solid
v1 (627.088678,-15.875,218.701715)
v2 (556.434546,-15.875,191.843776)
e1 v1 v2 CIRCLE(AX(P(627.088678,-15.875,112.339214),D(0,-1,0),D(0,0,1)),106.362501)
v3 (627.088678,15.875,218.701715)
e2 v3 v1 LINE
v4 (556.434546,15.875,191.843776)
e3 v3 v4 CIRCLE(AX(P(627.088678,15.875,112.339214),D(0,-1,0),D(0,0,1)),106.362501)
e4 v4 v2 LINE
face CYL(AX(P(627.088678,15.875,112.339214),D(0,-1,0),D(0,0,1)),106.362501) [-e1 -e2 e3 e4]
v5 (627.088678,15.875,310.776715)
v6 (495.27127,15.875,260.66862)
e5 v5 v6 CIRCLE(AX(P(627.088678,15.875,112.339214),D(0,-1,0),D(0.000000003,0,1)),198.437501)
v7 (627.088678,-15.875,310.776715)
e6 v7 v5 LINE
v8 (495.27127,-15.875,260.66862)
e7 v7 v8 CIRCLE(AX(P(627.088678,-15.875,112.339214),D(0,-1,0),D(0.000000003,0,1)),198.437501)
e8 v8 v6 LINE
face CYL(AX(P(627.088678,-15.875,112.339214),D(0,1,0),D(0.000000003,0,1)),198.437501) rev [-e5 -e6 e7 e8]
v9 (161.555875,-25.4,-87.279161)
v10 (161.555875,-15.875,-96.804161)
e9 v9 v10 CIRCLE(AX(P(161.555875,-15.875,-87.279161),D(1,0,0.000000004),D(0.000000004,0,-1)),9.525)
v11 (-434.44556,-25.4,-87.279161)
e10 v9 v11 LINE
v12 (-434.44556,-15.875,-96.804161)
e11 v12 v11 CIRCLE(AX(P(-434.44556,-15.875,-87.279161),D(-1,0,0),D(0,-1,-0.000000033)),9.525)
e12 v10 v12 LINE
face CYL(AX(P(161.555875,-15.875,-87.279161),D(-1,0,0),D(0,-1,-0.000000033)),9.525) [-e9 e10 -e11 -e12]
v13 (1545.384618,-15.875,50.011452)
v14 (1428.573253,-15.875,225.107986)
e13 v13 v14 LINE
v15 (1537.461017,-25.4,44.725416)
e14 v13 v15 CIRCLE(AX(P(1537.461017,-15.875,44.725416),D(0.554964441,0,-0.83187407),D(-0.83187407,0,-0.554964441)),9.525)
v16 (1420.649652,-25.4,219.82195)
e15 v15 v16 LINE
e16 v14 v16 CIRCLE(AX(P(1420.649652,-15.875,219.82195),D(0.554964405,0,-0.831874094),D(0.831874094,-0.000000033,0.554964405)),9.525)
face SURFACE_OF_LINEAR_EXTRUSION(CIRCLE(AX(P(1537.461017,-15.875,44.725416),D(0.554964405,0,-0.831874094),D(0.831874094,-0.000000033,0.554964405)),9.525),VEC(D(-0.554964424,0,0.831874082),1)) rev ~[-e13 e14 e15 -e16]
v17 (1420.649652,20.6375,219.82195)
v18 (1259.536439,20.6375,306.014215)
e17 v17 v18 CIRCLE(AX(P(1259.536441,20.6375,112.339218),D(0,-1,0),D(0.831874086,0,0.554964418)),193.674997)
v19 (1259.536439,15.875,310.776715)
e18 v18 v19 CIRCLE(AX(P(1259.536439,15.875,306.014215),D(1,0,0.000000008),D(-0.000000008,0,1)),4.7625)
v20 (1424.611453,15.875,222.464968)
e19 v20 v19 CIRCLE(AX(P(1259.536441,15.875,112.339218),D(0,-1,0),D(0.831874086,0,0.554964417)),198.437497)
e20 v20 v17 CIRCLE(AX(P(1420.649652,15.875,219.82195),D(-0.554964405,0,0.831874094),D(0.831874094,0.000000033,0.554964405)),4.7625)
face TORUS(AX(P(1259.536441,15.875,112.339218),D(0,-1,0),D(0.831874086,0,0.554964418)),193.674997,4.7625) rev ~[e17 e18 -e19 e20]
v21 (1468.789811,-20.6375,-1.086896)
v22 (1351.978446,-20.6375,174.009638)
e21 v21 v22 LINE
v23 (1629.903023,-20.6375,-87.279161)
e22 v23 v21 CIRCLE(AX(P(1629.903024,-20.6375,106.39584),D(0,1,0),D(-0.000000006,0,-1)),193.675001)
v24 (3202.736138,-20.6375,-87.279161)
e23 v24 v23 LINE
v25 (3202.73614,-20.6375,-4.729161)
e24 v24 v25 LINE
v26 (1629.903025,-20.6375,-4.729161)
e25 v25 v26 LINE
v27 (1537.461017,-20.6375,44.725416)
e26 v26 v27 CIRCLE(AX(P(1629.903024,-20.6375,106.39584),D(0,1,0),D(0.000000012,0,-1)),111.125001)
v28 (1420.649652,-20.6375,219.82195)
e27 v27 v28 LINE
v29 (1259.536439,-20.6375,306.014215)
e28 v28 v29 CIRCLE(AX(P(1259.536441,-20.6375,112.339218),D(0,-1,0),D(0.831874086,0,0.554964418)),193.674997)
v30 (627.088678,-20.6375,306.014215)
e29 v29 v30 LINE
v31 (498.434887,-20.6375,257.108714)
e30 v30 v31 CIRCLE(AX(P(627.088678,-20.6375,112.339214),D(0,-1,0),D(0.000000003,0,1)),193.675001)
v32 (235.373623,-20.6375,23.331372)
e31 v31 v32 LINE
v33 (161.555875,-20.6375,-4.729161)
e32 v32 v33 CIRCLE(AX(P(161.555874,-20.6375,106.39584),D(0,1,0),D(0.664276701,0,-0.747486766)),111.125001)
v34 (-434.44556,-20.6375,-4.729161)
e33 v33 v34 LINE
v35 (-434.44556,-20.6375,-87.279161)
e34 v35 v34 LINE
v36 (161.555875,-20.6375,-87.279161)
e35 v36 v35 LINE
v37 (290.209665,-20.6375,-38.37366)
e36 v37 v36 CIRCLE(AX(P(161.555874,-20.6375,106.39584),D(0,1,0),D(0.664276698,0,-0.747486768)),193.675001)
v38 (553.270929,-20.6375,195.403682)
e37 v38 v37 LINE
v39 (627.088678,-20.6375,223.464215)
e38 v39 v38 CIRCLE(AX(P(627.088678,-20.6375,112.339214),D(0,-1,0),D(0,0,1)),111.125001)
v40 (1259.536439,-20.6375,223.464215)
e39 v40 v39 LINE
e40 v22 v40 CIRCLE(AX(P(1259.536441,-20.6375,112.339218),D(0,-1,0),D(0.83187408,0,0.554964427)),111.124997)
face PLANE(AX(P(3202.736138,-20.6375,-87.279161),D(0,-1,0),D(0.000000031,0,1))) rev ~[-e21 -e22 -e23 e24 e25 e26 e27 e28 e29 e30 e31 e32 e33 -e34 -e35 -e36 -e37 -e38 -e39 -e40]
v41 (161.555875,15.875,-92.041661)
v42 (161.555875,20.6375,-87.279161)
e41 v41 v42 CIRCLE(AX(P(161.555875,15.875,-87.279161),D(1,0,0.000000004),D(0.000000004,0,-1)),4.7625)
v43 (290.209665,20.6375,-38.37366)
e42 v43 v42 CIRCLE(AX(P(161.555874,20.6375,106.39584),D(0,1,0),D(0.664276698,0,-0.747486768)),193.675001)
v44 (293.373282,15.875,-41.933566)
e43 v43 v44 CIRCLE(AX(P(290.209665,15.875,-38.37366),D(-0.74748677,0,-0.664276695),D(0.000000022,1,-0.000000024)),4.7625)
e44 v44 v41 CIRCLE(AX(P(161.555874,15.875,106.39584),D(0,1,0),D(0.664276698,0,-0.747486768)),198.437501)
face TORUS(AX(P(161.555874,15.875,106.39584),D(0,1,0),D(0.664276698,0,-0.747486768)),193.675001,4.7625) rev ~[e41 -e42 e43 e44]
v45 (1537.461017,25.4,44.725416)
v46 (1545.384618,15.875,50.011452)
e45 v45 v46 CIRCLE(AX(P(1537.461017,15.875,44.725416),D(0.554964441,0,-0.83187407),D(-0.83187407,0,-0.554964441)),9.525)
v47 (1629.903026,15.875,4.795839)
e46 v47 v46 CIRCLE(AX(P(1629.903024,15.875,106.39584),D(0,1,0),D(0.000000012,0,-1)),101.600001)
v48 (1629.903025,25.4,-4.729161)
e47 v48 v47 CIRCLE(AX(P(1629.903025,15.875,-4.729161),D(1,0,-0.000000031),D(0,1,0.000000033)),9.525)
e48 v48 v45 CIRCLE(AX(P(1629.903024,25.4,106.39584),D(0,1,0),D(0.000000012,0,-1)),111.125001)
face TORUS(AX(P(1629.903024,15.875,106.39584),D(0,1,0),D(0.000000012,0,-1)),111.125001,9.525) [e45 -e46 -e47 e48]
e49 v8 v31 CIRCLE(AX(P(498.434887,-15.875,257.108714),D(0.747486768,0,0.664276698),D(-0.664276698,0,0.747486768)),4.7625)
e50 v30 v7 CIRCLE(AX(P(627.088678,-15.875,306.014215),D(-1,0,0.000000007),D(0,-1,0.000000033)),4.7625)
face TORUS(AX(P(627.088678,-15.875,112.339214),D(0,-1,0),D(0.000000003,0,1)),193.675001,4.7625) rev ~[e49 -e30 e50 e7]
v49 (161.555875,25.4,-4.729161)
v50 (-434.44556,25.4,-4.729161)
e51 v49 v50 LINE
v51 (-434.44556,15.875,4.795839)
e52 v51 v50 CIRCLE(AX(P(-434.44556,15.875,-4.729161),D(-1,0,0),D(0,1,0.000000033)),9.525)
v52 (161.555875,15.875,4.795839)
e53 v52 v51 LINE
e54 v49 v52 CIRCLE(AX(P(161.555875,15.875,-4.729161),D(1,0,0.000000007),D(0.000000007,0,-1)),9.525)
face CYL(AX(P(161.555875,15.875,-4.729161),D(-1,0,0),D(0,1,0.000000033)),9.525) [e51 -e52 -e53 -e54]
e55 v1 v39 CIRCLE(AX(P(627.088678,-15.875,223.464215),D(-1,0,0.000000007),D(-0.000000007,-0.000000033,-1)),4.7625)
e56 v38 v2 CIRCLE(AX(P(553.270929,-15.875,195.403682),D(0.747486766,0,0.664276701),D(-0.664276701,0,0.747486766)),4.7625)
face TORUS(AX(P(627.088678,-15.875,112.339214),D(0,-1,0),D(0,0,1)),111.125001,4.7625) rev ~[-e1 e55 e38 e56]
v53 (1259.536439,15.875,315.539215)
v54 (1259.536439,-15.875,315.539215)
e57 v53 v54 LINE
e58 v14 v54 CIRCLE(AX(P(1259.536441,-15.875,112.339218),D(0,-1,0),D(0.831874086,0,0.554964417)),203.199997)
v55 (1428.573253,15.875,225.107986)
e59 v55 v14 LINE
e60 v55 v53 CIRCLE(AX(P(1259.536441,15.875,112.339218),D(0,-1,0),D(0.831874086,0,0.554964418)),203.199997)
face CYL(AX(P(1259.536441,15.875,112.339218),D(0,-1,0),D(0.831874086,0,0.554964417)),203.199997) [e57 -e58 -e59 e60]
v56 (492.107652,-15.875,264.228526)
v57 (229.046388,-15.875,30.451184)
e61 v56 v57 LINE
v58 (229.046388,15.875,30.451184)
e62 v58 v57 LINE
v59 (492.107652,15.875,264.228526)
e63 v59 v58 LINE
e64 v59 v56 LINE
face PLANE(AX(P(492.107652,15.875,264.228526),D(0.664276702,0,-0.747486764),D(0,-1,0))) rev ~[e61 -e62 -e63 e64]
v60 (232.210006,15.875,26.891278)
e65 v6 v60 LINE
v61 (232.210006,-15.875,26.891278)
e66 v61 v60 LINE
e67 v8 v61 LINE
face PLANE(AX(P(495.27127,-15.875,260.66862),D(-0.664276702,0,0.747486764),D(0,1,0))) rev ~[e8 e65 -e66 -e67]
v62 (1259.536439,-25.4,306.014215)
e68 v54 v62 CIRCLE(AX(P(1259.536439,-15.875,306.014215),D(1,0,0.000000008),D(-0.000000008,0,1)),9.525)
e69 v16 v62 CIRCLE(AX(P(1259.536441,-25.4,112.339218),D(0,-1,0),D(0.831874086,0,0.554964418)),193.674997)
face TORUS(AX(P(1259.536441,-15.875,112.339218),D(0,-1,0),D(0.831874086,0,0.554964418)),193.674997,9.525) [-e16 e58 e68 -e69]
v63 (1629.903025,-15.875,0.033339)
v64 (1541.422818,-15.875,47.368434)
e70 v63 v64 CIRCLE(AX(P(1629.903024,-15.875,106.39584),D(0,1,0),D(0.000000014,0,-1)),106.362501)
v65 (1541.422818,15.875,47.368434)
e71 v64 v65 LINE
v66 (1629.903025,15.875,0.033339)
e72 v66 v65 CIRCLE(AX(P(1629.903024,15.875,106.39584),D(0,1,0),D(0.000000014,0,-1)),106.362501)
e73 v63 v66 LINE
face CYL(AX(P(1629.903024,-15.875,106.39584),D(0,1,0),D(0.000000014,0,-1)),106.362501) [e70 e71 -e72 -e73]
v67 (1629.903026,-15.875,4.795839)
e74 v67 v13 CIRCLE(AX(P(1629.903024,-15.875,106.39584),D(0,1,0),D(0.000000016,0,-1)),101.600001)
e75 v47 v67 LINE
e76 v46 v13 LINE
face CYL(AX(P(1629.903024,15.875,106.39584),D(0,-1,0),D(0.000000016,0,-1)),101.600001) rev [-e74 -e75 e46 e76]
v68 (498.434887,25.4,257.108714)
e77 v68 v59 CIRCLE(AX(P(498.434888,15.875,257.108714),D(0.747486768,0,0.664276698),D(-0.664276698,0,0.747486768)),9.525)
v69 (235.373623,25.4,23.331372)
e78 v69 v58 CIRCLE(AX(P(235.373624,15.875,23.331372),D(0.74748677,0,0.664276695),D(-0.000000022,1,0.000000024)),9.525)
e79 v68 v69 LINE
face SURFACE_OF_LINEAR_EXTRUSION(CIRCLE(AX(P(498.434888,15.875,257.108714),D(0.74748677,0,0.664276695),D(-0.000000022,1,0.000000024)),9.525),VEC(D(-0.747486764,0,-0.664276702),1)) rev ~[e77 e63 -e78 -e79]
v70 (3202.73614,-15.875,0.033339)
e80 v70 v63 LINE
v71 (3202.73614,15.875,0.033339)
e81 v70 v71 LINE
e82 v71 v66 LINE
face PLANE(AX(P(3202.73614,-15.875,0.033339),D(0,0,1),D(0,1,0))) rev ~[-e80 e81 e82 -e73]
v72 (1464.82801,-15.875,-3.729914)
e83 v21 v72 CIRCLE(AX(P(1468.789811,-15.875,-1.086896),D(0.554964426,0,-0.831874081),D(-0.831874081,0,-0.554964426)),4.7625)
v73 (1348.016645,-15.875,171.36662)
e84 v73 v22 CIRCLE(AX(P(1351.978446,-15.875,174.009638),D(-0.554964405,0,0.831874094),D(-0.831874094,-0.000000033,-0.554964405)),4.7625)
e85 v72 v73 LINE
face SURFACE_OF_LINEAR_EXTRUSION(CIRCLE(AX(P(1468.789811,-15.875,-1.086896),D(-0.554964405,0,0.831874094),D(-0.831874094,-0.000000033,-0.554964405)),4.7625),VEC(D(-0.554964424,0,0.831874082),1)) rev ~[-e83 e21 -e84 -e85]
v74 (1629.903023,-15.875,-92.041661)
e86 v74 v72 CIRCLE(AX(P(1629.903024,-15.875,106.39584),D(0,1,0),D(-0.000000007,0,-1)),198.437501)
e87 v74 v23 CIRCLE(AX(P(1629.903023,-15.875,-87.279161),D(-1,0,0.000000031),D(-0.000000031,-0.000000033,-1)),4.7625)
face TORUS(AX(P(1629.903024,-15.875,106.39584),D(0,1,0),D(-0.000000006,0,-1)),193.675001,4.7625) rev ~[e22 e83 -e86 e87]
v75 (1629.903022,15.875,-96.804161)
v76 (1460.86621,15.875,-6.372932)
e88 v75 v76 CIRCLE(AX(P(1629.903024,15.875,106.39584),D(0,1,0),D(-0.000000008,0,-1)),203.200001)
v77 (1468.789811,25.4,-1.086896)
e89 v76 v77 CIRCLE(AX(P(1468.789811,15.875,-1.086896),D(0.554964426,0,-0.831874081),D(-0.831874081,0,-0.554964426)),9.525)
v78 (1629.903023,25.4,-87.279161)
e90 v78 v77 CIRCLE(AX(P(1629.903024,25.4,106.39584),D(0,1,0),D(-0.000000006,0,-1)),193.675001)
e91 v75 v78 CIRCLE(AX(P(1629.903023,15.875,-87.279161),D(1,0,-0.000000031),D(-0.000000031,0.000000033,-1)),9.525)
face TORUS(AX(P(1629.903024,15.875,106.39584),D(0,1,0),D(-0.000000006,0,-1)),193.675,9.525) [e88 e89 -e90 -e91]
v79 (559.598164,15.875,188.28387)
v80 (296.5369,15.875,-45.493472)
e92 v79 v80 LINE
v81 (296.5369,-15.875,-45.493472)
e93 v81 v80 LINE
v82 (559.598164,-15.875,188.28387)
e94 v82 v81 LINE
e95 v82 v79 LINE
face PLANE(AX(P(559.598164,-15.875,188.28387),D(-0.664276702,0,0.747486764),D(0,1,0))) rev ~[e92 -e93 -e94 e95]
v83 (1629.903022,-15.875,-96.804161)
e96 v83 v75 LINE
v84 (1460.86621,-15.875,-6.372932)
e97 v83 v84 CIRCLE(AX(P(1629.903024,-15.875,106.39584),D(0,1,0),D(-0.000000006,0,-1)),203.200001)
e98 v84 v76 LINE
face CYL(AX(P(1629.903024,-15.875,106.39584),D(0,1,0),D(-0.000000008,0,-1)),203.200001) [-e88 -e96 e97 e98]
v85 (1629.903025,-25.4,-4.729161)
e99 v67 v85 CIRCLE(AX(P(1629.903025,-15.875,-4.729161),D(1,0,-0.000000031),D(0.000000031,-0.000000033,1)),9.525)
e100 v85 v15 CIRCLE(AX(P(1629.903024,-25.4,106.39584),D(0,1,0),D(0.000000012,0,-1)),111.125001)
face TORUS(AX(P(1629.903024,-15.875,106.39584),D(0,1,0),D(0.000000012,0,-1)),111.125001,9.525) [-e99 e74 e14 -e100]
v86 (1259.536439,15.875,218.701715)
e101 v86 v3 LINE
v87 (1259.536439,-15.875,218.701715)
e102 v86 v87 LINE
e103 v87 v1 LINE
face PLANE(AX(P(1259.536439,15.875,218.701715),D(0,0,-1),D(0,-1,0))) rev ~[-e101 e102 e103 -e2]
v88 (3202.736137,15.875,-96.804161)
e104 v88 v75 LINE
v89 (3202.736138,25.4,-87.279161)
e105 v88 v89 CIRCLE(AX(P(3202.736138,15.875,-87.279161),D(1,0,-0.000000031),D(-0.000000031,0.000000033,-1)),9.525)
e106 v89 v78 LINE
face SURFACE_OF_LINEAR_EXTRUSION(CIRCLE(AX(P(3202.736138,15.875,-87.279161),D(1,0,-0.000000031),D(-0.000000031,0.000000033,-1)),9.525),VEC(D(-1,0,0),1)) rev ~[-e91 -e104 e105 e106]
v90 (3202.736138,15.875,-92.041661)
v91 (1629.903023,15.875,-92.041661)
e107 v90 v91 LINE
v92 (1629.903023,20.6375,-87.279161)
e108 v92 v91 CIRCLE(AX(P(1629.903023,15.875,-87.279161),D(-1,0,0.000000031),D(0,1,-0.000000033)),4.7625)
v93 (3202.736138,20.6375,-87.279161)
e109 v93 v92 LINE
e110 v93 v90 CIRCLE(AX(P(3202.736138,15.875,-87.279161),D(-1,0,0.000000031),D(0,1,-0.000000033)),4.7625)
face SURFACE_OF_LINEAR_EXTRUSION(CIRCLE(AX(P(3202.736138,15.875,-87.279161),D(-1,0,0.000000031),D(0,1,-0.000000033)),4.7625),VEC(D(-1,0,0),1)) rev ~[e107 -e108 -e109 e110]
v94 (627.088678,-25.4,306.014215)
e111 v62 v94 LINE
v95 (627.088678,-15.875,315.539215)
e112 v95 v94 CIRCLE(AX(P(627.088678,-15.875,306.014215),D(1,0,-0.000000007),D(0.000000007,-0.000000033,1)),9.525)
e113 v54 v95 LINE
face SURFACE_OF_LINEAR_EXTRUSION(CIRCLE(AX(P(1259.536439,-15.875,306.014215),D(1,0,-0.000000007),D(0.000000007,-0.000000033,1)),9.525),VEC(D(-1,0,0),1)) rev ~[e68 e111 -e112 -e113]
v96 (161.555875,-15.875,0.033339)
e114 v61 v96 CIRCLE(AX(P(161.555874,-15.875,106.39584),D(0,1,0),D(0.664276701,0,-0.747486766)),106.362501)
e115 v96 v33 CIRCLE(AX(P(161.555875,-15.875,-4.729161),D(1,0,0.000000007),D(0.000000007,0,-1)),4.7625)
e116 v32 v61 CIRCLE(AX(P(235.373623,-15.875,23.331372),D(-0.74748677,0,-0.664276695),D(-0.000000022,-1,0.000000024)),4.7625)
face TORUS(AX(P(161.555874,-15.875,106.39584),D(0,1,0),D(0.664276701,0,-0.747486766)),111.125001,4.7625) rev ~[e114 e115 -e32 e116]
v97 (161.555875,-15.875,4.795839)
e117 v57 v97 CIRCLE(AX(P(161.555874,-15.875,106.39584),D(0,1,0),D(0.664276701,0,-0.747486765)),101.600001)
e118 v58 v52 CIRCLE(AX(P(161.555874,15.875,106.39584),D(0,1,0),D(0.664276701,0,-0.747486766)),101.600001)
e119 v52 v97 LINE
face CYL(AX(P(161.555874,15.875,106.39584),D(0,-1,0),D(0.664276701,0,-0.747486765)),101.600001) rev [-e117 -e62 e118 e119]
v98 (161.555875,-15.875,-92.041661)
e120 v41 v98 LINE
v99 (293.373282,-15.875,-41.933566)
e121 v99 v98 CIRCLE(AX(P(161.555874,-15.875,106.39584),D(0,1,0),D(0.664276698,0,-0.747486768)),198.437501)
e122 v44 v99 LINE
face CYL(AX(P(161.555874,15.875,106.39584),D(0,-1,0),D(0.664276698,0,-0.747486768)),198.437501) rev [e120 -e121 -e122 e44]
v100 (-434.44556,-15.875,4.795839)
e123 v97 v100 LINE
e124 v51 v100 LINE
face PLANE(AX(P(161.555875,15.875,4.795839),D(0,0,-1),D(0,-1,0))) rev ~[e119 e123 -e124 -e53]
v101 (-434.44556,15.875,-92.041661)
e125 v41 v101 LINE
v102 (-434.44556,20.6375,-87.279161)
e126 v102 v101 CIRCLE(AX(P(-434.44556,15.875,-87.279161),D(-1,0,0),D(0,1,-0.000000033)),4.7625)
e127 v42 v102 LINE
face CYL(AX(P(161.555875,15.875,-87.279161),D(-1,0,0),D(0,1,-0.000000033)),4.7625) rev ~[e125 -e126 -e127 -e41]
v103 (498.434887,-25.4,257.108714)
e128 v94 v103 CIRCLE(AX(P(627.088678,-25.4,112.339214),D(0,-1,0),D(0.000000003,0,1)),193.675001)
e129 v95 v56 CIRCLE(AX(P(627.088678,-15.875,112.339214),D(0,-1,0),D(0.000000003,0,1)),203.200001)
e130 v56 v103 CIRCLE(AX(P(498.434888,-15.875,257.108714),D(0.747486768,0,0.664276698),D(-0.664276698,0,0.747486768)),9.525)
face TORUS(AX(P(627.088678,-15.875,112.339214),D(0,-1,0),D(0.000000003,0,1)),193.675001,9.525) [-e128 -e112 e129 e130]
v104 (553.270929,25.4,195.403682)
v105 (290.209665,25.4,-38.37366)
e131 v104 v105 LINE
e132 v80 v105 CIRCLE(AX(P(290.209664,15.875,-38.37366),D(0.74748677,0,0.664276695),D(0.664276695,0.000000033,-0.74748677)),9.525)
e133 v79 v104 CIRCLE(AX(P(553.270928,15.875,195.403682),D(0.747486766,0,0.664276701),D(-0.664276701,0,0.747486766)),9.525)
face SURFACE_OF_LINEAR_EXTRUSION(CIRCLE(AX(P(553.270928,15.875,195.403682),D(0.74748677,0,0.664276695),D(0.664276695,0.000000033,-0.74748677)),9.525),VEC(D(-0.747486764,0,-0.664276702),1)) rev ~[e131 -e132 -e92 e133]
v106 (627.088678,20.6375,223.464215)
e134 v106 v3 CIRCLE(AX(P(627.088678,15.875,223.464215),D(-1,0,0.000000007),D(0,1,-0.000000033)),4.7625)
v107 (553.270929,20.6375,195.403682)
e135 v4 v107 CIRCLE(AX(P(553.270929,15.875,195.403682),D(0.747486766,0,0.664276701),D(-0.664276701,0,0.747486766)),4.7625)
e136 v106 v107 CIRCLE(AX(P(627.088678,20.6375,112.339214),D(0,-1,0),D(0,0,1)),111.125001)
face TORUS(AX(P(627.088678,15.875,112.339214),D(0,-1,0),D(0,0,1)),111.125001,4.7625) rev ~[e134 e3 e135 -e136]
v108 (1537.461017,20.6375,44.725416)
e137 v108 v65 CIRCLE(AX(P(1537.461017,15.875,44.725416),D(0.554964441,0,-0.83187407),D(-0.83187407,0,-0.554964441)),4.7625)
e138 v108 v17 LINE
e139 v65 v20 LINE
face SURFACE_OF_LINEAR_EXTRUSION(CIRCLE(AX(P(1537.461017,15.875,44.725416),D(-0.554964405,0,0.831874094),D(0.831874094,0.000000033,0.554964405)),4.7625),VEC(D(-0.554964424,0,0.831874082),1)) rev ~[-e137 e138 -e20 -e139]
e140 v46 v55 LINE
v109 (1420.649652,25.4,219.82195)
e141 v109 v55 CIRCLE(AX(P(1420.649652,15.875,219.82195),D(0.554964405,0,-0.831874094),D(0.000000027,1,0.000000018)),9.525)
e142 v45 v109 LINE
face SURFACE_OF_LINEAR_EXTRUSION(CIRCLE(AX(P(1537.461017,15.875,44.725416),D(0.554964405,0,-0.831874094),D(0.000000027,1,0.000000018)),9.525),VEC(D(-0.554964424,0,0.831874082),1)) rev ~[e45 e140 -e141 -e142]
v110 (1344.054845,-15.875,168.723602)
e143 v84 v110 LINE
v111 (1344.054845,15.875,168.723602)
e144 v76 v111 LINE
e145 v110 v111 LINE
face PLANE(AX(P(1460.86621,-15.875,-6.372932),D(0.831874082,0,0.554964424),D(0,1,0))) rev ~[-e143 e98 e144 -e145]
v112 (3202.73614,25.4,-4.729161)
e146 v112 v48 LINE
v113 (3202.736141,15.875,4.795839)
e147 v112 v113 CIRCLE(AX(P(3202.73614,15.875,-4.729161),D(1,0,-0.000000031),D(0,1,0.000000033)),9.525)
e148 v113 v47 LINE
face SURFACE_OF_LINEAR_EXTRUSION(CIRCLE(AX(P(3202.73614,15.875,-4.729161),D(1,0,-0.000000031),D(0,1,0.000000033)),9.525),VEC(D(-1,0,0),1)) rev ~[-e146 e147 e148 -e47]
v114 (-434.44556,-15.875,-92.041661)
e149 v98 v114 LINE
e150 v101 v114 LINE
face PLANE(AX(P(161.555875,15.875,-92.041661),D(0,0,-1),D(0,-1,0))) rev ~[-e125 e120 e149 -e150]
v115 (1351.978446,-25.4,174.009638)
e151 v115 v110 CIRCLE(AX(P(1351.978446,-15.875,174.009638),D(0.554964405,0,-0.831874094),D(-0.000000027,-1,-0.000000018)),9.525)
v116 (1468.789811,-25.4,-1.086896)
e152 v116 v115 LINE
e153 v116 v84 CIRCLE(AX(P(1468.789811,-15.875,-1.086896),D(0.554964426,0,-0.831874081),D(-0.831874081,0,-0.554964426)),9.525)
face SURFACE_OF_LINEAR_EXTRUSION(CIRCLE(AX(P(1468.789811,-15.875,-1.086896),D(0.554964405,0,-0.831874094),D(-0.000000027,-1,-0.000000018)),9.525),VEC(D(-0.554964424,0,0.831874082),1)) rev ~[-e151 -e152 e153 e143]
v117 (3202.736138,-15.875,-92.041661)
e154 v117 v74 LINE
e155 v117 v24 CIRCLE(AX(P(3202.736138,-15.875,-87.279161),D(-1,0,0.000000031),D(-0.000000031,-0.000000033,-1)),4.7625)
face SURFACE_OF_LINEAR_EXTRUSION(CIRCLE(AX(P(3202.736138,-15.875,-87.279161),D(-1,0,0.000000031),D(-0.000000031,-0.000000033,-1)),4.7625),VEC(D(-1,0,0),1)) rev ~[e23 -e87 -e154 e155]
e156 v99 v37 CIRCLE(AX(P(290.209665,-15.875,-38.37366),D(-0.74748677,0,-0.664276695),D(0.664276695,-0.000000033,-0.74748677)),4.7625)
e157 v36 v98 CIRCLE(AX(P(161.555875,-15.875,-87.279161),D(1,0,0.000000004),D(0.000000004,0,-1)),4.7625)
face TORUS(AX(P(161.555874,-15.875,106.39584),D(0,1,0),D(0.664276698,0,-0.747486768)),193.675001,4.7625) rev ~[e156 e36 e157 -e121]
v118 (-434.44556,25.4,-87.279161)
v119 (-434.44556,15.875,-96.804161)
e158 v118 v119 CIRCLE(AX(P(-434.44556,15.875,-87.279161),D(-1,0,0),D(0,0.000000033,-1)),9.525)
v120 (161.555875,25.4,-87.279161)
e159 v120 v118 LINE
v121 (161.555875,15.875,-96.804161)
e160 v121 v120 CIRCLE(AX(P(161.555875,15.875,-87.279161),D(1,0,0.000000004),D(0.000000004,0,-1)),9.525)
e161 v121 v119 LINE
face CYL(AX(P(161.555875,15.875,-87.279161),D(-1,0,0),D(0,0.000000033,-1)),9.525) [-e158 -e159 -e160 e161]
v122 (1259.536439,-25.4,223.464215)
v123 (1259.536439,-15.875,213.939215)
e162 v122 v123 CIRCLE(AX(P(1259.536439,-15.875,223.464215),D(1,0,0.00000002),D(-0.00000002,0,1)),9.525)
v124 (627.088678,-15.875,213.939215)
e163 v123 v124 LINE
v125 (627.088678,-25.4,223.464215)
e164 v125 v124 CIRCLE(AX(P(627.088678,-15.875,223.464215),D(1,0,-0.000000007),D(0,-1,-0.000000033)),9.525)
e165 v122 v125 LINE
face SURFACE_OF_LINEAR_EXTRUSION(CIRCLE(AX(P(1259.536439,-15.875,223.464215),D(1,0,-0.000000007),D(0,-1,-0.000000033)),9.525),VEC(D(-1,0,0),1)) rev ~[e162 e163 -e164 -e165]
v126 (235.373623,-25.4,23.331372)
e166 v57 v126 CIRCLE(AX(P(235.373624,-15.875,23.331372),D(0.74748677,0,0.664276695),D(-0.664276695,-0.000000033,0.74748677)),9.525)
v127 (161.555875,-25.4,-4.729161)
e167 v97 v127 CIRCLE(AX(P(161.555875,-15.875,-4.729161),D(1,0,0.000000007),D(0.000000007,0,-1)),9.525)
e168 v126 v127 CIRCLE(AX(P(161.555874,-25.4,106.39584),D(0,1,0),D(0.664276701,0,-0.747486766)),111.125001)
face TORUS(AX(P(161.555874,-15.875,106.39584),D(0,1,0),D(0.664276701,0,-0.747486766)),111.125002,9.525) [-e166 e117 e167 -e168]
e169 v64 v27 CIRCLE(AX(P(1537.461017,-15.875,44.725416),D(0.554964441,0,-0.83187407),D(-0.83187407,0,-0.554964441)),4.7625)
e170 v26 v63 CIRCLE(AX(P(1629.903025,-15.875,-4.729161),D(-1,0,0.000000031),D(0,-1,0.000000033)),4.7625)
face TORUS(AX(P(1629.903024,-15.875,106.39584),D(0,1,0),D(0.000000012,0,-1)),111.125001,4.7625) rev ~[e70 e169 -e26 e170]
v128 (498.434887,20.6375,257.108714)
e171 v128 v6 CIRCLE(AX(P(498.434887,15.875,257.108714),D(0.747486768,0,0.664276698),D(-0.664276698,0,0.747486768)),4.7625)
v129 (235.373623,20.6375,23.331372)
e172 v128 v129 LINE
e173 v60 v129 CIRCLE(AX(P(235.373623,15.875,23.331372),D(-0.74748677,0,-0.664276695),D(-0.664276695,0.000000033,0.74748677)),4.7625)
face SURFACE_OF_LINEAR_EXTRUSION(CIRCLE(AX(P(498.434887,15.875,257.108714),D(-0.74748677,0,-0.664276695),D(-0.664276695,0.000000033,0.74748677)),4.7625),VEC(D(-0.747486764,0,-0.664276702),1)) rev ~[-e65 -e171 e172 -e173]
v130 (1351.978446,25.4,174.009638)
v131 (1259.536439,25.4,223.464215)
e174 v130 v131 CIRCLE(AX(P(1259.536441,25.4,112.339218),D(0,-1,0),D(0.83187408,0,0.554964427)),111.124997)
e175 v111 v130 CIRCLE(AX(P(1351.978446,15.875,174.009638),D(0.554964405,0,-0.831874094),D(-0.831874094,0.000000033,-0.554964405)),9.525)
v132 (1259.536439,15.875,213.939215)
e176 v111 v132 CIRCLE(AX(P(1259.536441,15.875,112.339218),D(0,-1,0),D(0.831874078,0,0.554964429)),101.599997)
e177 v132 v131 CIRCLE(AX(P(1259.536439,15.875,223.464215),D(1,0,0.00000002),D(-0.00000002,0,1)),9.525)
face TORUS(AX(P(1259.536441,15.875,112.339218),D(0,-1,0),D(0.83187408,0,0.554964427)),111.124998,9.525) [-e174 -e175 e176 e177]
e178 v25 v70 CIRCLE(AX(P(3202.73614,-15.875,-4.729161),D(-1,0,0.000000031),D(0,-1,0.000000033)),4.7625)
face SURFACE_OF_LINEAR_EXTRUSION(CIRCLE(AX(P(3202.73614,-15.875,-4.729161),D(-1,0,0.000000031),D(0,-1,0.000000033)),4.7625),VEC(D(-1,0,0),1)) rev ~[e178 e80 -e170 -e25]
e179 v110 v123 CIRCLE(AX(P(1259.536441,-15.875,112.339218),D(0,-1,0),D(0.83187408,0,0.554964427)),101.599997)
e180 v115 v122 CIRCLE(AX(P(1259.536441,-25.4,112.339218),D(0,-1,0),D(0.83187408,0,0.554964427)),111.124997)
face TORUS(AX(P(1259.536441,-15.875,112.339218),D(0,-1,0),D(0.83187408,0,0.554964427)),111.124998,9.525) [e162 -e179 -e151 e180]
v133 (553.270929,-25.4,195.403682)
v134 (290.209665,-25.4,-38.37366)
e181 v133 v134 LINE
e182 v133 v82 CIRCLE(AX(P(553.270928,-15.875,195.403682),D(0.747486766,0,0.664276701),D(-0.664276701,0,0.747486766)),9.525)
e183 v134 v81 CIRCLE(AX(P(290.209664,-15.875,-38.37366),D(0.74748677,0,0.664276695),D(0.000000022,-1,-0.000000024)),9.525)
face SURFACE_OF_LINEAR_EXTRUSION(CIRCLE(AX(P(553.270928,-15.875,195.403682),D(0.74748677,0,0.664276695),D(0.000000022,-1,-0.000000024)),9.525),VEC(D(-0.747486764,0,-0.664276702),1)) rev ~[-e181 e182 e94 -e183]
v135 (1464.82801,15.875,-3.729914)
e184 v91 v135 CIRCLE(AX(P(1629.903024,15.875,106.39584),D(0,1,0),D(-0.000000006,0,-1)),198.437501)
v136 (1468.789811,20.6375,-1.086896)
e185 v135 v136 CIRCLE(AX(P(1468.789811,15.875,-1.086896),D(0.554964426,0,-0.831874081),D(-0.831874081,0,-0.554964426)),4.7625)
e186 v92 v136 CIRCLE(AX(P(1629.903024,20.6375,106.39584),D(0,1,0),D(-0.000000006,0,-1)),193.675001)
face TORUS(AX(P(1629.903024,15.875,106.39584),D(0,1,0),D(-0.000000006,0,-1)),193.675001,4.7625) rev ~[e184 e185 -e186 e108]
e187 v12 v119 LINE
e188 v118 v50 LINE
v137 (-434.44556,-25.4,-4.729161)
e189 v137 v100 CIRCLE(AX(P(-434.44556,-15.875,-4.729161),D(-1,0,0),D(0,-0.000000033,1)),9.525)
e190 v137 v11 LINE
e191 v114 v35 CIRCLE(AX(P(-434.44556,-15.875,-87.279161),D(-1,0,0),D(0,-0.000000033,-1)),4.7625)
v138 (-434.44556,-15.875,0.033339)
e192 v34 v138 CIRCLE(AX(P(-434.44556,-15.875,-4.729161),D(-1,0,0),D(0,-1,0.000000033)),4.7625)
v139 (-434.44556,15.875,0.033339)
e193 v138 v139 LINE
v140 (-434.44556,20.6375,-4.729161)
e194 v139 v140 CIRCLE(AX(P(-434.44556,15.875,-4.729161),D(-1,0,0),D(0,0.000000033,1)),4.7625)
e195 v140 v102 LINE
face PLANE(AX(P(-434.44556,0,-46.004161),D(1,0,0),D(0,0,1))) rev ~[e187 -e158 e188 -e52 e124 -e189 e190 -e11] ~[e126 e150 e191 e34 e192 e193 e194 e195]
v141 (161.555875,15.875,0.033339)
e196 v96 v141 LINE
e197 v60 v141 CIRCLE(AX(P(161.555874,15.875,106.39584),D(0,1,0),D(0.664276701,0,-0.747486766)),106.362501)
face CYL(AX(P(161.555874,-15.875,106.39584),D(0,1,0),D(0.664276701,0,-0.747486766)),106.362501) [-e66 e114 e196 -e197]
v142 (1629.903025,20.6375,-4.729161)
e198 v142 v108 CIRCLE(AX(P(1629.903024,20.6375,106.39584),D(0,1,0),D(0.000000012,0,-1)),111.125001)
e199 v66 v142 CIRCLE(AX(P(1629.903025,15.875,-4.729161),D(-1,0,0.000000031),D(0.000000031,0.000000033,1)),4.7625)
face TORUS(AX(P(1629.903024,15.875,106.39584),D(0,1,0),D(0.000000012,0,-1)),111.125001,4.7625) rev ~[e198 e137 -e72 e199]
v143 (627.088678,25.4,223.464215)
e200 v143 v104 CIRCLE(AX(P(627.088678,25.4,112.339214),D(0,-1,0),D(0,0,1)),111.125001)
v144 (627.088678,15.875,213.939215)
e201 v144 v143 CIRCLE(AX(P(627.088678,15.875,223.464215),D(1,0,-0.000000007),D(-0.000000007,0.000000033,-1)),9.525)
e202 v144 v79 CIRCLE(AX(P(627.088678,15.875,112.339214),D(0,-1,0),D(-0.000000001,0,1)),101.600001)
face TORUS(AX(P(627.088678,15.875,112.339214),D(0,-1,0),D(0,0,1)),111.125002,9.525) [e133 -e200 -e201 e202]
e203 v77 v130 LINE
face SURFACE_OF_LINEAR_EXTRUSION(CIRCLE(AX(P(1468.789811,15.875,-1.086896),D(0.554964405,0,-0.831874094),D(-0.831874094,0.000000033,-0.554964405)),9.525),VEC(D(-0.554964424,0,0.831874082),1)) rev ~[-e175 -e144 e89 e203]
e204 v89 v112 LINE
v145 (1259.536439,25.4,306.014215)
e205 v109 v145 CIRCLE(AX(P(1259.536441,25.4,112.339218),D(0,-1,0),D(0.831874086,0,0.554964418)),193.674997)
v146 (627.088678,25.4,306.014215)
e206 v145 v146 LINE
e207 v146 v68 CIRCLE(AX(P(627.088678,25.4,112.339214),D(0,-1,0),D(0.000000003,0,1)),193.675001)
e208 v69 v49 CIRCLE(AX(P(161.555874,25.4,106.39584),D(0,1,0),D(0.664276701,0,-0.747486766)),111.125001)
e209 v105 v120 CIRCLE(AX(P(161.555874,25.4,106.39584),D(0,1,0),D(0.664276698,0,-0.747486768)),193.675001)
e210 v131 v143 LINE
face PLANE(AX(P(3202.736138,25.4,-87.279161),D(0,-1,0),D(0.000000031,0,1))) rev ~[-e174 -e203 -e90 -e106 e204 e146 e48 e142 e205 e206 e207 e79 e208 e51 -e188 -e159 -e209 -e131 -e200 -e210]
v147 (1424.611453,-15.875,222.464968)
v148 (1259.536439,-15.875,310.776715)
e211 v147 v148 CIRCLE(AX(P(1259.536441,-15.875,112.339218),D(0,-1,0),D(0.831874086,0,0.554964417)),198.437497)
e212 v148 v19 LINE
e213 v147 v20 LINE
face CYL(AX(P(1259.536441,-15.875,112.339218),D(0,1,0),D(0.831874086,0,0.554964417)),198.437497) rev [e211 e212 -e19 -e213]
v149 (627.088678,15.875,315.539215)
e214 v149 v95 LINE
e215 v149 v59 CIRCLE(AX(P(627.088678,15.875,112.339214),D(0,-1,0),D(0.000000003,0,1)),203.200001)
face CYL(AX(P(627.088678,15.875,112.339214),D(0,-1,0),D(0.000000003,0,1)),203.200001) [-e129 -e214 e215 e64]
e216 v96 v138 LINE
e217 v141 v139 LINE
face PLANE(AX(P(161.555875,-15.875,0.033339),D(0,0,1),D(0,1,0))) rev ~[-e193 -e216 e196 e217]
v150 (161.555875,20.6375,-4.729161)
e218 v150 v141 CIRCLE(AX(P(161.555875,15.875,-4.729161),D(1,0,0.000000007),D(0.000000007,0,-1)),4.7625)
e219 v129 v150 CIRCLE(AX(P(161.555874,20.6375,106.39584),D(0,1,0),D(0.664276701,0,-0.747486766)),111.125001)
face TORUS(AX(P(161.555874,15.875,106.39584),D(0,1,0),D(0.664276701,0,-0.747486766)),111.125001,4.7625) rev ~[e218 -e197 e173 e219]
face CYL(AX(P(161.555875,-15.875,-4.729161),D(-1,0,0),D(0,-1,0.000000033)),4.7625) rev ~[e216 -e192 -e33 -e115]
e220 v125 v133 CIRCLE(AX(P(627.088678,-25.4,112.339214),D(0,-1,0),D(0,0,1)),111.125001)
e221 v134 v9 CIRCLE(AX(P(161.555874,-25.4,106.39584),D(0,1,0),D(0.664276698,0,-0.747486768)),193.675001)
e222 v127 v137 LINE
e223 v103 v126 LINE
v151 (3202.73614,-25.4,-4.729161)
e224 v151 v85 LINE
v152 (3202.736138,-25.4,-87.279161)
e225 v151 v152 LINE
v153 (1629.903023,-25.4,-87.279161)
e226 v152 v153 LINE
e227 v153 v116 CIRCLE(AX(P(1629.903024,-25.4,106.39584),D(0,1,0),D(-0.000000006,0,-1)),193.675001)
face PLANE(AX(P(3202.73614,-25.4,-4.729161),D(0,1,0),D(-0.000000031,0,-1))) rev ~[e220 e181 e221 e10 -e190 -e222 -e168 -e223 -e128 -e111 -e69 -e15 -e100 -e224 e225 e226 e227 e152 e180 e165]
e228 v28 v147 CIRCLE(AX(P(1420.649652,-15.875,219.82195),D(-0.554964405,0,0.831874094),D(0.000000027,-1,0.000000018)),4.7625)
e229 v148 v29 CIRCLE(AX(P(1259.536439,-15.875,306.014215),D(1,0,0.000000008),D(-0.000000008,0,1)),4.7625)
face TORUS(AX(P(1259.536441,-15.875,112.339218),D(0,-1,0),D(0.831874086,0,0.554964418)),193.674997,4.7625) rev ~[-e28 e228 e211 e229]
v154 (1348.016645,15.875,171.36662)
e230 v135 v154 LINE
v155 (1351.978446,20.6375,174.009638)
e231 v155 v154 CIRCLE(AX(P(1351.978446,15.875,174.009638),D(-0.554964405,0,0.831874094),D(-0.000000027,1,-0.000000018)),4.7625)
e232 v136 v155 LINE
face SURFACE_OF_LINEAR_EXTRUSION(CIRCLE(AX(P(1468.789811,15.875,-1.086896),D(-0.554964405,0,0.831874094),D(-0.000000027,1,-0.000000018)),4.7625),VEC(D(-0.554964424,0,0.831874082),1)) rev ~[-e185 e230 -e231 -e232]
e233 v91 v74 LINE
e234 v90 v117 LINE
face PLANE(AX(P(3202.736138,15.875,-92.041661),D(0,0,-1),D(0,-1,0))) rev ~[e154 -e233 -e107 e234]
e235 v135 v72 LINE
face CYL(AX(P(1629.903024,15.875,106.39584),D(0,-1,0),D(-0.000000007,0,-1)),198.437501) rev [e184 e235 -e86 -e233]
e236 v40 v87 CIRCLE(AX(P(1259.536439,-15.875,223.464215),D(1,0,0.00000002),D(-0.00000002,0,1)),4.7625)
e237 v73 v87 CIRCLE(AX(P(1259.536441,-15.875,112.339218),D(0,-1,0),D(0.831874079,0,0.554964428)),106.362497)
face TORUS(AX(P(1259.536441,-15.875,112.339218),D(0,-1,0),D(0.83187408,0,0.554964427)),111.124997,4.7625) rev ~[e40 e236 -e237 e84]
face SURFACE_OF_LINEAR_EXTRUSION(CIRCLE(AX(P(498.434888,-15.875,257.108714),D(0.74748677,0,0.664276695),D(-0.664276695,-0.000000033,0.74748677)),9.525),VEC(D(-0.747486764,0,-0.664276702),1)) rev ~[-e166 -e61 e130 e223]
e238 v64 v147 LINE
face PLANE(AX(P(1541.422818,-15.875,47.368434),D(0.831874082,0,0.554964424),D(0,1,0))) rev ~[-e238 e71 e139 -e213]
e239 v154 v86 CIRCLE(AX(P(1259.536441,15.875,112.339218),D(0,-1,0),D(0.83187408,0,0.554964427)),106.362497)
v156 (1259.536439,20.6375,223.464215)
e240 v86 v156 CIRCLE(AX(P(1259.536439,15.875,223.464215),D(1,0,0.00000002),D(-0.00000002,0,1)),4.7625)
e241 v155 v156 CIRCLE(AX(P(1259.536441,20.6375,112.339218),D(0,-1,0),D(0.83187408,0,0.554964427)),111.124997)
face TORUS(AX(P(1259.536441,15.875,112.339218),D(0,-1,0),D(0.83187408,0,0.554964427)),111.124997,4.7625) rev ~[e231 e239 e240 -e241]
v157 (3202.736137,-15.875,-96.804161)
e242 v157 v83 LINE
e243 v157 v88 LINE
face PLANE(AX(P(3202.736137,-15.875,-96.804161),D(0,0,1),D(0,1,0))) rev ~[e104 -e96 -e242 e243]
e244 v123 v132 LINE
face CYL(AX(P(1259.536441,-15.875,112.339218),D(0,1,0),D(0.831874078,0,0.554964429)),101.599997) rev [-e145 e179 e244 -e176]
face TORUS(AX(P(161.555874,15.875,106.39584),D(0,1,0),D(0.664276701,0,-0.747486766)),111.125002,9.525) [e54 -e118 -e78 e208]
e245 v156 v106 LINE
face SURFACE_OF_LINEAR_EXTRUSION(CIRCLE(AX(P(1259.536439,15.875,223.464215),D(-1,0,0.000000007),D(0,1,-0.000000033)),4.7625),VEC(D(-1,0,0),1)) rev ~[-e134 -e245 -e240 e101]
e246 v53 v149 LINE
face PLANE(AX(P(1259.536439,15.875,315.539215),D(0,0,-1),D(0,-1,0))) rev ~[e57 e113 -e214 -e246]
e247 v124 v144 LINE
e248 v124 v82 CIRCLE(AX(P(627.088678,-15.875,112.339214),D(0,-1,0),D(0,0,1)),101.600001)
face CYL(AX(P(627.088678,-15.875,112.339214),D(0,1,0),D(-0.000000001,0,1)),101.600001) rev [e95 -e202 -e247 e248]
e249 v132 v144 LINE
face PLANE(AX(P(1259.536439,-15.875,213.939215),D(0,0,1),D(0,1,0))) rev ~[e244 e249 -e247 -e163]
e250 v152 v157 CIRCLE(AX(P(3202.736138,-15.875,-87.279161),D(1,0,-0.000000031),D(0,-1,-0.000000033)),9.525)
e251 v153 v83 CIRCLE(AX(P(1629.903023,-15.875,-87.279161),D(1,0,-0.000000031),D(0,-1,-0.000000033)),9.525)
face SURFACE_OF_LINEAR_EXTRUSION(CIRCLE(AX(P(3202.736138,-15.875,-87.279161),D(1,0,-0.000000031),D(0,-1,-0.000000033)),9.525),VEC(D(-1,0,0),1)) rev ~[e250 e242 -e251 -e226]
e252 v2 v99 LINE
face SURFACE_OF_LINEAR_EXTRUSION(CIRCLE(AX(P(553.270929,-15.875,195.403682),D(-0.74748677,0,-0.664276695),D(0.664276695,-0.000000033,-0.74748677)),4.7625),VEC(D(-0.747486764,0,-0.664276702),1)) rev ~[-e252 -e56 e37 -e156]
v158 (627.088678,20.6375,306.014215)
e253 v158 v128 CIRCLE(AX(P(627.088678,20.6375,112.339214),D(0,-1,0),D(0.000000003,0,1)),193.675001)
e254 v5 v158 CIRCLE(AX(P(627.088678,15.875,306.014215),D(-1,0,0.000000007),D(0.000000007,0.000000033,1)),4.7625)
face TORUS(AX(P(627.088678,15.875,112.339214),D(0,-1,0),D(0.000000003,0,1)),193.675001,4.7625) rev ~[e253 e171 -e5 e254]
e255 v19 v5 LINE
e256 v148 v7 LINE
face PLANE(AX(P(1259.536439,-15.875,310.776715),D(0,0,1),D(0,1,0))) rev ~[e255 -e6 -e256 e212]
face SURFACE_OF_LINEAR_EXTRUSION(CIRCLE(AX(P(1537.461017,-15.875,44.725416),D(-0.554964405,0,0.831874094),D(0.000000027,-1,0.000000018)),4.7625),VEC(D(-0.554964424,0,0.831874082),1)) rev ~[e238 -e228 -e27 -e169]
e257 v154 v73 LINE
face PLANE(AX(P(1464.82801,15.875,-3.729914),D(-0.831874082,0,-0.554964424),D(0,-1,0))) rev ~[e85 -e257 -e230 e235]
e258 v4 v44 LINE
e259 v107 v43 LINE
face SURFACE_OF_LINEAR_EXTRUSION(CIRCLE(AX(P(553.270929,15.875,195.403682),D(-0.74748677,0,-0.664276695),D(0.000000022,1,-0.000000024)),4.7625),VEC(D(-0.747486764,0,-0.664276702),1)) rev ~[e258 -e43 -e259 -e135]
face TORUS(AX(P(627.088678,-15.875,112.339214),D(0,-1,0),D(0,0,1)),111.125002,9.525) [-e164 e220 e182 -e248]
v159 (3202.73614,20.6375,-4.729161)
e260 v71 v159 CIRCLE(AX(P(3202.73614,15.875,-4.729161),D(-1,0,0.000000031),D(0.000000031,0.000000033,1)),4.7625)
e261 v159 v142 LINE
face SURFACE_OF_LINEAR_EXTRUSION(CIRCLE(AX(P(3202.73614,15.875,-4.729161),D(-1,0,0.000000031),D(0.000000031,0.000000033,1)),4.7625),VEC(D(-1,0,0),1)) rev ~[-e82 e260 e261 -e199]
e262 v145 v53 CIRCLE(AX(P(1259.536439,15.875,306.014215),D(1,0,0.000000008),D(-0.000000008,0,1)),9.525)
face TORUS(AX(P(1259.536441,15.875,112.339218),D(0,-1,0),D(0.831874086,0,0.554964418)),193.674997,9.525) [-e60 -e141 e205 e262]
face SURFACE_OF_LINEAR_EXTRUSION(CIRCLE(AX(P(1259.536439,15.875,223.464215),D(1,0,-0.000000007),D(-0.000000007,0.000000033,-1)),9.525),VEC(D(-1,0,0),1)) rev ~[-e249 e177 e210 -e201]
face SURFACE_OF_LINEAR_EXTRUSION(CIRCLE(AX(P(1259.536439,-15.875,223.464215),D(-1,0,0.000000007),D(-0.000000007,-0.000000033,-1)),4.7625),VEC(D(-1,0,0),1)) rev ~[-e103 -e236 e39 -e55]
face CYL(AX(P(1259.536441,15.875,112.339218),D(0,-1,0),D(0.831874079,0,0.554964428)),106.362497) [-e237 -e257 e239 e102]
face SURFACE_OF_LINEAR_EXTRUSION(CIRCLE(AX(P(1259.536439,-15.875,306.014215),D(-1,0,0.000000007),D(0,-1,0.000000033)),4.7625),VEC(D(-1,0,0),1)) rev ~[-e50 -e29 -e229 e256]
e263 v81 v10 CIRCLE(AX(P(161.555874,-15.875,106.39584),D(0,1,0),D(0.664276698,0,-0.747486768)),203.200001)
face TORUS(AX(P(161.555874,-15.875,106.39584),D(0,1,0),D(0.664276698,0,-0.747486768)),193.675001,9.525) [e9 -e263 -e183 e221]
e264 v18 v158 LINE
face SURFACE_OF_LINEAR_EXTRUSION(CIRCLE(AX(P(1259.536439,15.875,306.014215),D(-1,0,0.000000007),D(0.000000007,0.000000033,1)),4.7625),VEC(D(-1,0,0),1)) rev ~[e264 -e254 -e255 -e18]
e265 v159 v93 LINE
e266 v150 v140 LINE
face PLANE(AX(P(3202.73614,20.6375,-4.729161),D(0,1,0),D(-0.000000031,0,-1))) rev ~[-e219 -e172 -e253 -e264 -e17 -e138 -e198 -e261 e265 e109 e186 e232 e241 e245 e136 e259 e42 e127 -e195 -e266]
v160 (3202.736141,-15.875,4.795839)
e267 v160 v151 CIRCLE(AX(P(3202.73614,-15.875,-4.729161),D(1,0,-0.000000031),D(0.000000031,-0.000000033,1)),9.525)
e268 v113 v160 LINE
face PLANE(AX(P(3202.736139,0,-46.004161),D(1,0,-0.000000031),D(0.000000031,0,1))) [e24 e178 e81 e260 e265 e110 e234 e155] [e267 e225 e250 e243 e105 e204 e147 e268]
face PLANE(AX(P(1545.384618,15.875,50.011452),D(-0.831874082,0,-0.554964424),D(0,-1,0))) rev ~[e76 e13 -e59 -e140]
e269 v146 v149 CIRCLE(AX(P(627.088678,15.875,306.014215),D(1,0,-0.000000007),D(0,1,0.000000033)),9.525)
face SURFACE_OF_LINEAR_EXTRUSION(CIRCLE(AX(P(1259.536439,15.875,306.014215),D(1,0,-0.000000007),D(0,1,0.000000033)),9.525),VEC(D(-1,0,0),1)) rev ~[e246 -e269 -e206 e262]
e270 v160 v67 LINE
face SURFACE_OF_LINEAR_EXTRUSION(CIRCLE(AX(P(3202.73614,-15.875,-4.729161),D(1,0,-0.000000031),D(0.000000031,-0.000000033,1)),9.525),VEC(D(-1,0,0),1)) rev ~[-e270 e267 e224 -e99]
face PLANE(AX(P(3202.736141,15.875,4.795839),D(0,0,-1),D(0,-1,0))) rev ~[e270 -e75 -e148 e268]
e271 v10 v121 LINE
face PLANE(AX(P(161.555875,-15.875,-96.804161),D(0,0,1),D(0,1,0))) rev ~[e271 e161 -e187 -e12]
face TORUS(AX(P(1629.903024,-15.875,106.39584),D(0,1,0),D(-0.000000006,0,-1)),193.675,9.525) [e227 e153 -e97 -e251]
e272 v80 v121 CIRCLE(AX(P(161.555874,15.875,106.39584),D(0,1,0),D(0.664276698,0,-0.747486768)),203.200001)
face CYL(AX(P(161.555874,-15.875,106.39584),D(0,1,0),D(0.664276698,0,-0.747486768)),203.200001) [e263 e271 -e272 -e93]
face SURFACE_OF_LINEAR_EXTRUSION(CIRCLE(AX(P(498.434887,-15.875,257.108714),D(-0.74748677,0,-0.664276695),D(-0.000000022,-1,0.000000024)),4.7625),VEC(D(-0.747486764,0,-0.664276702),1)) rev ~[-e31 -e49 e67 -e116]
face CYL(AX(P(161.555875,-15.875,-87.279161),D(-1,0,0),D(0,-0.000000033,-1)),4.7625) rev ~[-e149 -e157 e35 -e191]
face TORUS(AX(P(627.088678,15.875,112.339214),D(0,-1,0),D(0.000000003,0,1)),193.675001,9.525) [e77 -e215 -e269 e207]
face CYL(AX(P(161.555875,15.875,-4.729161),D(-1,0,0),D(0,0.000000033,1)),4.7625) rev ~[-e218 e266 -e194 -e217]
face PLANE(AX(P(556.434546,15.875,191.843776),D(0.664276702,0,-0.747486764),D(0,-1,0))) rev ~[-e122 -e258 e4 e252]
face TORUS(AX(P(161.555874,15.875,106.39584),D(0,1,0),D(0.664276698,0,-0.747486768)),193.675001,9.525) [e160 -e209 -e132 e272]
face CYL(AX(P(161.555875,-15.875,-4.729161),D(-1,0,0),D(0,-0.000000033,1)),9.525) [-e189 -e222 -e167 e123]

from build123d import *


with BuildPart() as f3:
    # F3: sweep along a path in F0
    with BuildLine(Plane.XZ) as f3_path:
        Line((3202.736139, -46.004161), (1629.903024, -46.004161))
        ThreePointArc((1629.903024, -46.004161), (1558.013215, -27.982788), (1503.125414, 21.81926))
        Line((1503.125414, 21.81926), (1386.314049, 196.915794))
        ThreePointArc((1386.314049, 196.915794), (1331.426249, 246.717842), (1259.536439, 264.739215))
        Line((1259.536439, 264.739215), (627.088678, 264.739215))
        ThreePointArc((627.088678, 264.739215), (572.936984, 254.793959), (525.852908, 226.256198))
        Line((525.852908, 226.256198), (262.791644, -7.521144))
        ThreePointArc((262.791644, -7.521144), (215.707568, -36.058905), (161.555875, -46.004161))
        Line((161.555875, -46.004161), (-434.44556, -46.004161))
    # F2 (on face) → F3 (sweep)
    with BuildSketch(Plane.YZ.offset(-434.44556)):
        with BuildLine():
            ThreePointArc((25.4, -4.729161), (22.610192, 2.006031), (15.875, 4.795839))
            Line((15.875, 4.795839), (-15.875, 4.795839))
            ThreePointArc((-15.875, 4.795839), (-22.610192, 2.006031), (-25.4, -4.729161))
            Line((-25.4, -4.729161), (-25.4, -87.279161))
            ThreePointArc((-25.4, -87.279161), (-22.610192, -94.014353), (-15.875, -96.804161))
            Line((-15.875, -96.804161), (15.875, -96.804161))
            ThreePointArc((15.875, -96.804161), (22.610192, -94.014353), (25.4, -87.279161))
            Line((25.4, -87.279161), (25.4, -4.729161))
        make_face()
        with BuildLine():
            ThreePointArc((15.875, 0.033339), (19.242596, -1.361565), (20.6375, -4.729161))
            Line((20.6375, -4.729161), (20.6375, -87.279161))
            ThreePointArc((20.6375, -87.279161), (19.242596, -90.646757), (15.875, -92.041661))
            Line((15.875, -92.041661), (-15.875, -92.041661))
            ThreePointArc((-15.875, -92.041661), (-19.242596, -90.646757), (-20.6375, -87.279161))
            Line((-20.6375, -87.279161), (-20.6375, -4.729161))
            ThreePointArc((-20.6375, -4.729161), (-19.242596, -1.361565), (-15.875, 0.033339))
            Line((-15.875, 0.033339), (15.875, 0.033339))
        make_face(mode=Mode.SUBTRACT)
    sweep(path=f3_path.line)


solid = f3.part
